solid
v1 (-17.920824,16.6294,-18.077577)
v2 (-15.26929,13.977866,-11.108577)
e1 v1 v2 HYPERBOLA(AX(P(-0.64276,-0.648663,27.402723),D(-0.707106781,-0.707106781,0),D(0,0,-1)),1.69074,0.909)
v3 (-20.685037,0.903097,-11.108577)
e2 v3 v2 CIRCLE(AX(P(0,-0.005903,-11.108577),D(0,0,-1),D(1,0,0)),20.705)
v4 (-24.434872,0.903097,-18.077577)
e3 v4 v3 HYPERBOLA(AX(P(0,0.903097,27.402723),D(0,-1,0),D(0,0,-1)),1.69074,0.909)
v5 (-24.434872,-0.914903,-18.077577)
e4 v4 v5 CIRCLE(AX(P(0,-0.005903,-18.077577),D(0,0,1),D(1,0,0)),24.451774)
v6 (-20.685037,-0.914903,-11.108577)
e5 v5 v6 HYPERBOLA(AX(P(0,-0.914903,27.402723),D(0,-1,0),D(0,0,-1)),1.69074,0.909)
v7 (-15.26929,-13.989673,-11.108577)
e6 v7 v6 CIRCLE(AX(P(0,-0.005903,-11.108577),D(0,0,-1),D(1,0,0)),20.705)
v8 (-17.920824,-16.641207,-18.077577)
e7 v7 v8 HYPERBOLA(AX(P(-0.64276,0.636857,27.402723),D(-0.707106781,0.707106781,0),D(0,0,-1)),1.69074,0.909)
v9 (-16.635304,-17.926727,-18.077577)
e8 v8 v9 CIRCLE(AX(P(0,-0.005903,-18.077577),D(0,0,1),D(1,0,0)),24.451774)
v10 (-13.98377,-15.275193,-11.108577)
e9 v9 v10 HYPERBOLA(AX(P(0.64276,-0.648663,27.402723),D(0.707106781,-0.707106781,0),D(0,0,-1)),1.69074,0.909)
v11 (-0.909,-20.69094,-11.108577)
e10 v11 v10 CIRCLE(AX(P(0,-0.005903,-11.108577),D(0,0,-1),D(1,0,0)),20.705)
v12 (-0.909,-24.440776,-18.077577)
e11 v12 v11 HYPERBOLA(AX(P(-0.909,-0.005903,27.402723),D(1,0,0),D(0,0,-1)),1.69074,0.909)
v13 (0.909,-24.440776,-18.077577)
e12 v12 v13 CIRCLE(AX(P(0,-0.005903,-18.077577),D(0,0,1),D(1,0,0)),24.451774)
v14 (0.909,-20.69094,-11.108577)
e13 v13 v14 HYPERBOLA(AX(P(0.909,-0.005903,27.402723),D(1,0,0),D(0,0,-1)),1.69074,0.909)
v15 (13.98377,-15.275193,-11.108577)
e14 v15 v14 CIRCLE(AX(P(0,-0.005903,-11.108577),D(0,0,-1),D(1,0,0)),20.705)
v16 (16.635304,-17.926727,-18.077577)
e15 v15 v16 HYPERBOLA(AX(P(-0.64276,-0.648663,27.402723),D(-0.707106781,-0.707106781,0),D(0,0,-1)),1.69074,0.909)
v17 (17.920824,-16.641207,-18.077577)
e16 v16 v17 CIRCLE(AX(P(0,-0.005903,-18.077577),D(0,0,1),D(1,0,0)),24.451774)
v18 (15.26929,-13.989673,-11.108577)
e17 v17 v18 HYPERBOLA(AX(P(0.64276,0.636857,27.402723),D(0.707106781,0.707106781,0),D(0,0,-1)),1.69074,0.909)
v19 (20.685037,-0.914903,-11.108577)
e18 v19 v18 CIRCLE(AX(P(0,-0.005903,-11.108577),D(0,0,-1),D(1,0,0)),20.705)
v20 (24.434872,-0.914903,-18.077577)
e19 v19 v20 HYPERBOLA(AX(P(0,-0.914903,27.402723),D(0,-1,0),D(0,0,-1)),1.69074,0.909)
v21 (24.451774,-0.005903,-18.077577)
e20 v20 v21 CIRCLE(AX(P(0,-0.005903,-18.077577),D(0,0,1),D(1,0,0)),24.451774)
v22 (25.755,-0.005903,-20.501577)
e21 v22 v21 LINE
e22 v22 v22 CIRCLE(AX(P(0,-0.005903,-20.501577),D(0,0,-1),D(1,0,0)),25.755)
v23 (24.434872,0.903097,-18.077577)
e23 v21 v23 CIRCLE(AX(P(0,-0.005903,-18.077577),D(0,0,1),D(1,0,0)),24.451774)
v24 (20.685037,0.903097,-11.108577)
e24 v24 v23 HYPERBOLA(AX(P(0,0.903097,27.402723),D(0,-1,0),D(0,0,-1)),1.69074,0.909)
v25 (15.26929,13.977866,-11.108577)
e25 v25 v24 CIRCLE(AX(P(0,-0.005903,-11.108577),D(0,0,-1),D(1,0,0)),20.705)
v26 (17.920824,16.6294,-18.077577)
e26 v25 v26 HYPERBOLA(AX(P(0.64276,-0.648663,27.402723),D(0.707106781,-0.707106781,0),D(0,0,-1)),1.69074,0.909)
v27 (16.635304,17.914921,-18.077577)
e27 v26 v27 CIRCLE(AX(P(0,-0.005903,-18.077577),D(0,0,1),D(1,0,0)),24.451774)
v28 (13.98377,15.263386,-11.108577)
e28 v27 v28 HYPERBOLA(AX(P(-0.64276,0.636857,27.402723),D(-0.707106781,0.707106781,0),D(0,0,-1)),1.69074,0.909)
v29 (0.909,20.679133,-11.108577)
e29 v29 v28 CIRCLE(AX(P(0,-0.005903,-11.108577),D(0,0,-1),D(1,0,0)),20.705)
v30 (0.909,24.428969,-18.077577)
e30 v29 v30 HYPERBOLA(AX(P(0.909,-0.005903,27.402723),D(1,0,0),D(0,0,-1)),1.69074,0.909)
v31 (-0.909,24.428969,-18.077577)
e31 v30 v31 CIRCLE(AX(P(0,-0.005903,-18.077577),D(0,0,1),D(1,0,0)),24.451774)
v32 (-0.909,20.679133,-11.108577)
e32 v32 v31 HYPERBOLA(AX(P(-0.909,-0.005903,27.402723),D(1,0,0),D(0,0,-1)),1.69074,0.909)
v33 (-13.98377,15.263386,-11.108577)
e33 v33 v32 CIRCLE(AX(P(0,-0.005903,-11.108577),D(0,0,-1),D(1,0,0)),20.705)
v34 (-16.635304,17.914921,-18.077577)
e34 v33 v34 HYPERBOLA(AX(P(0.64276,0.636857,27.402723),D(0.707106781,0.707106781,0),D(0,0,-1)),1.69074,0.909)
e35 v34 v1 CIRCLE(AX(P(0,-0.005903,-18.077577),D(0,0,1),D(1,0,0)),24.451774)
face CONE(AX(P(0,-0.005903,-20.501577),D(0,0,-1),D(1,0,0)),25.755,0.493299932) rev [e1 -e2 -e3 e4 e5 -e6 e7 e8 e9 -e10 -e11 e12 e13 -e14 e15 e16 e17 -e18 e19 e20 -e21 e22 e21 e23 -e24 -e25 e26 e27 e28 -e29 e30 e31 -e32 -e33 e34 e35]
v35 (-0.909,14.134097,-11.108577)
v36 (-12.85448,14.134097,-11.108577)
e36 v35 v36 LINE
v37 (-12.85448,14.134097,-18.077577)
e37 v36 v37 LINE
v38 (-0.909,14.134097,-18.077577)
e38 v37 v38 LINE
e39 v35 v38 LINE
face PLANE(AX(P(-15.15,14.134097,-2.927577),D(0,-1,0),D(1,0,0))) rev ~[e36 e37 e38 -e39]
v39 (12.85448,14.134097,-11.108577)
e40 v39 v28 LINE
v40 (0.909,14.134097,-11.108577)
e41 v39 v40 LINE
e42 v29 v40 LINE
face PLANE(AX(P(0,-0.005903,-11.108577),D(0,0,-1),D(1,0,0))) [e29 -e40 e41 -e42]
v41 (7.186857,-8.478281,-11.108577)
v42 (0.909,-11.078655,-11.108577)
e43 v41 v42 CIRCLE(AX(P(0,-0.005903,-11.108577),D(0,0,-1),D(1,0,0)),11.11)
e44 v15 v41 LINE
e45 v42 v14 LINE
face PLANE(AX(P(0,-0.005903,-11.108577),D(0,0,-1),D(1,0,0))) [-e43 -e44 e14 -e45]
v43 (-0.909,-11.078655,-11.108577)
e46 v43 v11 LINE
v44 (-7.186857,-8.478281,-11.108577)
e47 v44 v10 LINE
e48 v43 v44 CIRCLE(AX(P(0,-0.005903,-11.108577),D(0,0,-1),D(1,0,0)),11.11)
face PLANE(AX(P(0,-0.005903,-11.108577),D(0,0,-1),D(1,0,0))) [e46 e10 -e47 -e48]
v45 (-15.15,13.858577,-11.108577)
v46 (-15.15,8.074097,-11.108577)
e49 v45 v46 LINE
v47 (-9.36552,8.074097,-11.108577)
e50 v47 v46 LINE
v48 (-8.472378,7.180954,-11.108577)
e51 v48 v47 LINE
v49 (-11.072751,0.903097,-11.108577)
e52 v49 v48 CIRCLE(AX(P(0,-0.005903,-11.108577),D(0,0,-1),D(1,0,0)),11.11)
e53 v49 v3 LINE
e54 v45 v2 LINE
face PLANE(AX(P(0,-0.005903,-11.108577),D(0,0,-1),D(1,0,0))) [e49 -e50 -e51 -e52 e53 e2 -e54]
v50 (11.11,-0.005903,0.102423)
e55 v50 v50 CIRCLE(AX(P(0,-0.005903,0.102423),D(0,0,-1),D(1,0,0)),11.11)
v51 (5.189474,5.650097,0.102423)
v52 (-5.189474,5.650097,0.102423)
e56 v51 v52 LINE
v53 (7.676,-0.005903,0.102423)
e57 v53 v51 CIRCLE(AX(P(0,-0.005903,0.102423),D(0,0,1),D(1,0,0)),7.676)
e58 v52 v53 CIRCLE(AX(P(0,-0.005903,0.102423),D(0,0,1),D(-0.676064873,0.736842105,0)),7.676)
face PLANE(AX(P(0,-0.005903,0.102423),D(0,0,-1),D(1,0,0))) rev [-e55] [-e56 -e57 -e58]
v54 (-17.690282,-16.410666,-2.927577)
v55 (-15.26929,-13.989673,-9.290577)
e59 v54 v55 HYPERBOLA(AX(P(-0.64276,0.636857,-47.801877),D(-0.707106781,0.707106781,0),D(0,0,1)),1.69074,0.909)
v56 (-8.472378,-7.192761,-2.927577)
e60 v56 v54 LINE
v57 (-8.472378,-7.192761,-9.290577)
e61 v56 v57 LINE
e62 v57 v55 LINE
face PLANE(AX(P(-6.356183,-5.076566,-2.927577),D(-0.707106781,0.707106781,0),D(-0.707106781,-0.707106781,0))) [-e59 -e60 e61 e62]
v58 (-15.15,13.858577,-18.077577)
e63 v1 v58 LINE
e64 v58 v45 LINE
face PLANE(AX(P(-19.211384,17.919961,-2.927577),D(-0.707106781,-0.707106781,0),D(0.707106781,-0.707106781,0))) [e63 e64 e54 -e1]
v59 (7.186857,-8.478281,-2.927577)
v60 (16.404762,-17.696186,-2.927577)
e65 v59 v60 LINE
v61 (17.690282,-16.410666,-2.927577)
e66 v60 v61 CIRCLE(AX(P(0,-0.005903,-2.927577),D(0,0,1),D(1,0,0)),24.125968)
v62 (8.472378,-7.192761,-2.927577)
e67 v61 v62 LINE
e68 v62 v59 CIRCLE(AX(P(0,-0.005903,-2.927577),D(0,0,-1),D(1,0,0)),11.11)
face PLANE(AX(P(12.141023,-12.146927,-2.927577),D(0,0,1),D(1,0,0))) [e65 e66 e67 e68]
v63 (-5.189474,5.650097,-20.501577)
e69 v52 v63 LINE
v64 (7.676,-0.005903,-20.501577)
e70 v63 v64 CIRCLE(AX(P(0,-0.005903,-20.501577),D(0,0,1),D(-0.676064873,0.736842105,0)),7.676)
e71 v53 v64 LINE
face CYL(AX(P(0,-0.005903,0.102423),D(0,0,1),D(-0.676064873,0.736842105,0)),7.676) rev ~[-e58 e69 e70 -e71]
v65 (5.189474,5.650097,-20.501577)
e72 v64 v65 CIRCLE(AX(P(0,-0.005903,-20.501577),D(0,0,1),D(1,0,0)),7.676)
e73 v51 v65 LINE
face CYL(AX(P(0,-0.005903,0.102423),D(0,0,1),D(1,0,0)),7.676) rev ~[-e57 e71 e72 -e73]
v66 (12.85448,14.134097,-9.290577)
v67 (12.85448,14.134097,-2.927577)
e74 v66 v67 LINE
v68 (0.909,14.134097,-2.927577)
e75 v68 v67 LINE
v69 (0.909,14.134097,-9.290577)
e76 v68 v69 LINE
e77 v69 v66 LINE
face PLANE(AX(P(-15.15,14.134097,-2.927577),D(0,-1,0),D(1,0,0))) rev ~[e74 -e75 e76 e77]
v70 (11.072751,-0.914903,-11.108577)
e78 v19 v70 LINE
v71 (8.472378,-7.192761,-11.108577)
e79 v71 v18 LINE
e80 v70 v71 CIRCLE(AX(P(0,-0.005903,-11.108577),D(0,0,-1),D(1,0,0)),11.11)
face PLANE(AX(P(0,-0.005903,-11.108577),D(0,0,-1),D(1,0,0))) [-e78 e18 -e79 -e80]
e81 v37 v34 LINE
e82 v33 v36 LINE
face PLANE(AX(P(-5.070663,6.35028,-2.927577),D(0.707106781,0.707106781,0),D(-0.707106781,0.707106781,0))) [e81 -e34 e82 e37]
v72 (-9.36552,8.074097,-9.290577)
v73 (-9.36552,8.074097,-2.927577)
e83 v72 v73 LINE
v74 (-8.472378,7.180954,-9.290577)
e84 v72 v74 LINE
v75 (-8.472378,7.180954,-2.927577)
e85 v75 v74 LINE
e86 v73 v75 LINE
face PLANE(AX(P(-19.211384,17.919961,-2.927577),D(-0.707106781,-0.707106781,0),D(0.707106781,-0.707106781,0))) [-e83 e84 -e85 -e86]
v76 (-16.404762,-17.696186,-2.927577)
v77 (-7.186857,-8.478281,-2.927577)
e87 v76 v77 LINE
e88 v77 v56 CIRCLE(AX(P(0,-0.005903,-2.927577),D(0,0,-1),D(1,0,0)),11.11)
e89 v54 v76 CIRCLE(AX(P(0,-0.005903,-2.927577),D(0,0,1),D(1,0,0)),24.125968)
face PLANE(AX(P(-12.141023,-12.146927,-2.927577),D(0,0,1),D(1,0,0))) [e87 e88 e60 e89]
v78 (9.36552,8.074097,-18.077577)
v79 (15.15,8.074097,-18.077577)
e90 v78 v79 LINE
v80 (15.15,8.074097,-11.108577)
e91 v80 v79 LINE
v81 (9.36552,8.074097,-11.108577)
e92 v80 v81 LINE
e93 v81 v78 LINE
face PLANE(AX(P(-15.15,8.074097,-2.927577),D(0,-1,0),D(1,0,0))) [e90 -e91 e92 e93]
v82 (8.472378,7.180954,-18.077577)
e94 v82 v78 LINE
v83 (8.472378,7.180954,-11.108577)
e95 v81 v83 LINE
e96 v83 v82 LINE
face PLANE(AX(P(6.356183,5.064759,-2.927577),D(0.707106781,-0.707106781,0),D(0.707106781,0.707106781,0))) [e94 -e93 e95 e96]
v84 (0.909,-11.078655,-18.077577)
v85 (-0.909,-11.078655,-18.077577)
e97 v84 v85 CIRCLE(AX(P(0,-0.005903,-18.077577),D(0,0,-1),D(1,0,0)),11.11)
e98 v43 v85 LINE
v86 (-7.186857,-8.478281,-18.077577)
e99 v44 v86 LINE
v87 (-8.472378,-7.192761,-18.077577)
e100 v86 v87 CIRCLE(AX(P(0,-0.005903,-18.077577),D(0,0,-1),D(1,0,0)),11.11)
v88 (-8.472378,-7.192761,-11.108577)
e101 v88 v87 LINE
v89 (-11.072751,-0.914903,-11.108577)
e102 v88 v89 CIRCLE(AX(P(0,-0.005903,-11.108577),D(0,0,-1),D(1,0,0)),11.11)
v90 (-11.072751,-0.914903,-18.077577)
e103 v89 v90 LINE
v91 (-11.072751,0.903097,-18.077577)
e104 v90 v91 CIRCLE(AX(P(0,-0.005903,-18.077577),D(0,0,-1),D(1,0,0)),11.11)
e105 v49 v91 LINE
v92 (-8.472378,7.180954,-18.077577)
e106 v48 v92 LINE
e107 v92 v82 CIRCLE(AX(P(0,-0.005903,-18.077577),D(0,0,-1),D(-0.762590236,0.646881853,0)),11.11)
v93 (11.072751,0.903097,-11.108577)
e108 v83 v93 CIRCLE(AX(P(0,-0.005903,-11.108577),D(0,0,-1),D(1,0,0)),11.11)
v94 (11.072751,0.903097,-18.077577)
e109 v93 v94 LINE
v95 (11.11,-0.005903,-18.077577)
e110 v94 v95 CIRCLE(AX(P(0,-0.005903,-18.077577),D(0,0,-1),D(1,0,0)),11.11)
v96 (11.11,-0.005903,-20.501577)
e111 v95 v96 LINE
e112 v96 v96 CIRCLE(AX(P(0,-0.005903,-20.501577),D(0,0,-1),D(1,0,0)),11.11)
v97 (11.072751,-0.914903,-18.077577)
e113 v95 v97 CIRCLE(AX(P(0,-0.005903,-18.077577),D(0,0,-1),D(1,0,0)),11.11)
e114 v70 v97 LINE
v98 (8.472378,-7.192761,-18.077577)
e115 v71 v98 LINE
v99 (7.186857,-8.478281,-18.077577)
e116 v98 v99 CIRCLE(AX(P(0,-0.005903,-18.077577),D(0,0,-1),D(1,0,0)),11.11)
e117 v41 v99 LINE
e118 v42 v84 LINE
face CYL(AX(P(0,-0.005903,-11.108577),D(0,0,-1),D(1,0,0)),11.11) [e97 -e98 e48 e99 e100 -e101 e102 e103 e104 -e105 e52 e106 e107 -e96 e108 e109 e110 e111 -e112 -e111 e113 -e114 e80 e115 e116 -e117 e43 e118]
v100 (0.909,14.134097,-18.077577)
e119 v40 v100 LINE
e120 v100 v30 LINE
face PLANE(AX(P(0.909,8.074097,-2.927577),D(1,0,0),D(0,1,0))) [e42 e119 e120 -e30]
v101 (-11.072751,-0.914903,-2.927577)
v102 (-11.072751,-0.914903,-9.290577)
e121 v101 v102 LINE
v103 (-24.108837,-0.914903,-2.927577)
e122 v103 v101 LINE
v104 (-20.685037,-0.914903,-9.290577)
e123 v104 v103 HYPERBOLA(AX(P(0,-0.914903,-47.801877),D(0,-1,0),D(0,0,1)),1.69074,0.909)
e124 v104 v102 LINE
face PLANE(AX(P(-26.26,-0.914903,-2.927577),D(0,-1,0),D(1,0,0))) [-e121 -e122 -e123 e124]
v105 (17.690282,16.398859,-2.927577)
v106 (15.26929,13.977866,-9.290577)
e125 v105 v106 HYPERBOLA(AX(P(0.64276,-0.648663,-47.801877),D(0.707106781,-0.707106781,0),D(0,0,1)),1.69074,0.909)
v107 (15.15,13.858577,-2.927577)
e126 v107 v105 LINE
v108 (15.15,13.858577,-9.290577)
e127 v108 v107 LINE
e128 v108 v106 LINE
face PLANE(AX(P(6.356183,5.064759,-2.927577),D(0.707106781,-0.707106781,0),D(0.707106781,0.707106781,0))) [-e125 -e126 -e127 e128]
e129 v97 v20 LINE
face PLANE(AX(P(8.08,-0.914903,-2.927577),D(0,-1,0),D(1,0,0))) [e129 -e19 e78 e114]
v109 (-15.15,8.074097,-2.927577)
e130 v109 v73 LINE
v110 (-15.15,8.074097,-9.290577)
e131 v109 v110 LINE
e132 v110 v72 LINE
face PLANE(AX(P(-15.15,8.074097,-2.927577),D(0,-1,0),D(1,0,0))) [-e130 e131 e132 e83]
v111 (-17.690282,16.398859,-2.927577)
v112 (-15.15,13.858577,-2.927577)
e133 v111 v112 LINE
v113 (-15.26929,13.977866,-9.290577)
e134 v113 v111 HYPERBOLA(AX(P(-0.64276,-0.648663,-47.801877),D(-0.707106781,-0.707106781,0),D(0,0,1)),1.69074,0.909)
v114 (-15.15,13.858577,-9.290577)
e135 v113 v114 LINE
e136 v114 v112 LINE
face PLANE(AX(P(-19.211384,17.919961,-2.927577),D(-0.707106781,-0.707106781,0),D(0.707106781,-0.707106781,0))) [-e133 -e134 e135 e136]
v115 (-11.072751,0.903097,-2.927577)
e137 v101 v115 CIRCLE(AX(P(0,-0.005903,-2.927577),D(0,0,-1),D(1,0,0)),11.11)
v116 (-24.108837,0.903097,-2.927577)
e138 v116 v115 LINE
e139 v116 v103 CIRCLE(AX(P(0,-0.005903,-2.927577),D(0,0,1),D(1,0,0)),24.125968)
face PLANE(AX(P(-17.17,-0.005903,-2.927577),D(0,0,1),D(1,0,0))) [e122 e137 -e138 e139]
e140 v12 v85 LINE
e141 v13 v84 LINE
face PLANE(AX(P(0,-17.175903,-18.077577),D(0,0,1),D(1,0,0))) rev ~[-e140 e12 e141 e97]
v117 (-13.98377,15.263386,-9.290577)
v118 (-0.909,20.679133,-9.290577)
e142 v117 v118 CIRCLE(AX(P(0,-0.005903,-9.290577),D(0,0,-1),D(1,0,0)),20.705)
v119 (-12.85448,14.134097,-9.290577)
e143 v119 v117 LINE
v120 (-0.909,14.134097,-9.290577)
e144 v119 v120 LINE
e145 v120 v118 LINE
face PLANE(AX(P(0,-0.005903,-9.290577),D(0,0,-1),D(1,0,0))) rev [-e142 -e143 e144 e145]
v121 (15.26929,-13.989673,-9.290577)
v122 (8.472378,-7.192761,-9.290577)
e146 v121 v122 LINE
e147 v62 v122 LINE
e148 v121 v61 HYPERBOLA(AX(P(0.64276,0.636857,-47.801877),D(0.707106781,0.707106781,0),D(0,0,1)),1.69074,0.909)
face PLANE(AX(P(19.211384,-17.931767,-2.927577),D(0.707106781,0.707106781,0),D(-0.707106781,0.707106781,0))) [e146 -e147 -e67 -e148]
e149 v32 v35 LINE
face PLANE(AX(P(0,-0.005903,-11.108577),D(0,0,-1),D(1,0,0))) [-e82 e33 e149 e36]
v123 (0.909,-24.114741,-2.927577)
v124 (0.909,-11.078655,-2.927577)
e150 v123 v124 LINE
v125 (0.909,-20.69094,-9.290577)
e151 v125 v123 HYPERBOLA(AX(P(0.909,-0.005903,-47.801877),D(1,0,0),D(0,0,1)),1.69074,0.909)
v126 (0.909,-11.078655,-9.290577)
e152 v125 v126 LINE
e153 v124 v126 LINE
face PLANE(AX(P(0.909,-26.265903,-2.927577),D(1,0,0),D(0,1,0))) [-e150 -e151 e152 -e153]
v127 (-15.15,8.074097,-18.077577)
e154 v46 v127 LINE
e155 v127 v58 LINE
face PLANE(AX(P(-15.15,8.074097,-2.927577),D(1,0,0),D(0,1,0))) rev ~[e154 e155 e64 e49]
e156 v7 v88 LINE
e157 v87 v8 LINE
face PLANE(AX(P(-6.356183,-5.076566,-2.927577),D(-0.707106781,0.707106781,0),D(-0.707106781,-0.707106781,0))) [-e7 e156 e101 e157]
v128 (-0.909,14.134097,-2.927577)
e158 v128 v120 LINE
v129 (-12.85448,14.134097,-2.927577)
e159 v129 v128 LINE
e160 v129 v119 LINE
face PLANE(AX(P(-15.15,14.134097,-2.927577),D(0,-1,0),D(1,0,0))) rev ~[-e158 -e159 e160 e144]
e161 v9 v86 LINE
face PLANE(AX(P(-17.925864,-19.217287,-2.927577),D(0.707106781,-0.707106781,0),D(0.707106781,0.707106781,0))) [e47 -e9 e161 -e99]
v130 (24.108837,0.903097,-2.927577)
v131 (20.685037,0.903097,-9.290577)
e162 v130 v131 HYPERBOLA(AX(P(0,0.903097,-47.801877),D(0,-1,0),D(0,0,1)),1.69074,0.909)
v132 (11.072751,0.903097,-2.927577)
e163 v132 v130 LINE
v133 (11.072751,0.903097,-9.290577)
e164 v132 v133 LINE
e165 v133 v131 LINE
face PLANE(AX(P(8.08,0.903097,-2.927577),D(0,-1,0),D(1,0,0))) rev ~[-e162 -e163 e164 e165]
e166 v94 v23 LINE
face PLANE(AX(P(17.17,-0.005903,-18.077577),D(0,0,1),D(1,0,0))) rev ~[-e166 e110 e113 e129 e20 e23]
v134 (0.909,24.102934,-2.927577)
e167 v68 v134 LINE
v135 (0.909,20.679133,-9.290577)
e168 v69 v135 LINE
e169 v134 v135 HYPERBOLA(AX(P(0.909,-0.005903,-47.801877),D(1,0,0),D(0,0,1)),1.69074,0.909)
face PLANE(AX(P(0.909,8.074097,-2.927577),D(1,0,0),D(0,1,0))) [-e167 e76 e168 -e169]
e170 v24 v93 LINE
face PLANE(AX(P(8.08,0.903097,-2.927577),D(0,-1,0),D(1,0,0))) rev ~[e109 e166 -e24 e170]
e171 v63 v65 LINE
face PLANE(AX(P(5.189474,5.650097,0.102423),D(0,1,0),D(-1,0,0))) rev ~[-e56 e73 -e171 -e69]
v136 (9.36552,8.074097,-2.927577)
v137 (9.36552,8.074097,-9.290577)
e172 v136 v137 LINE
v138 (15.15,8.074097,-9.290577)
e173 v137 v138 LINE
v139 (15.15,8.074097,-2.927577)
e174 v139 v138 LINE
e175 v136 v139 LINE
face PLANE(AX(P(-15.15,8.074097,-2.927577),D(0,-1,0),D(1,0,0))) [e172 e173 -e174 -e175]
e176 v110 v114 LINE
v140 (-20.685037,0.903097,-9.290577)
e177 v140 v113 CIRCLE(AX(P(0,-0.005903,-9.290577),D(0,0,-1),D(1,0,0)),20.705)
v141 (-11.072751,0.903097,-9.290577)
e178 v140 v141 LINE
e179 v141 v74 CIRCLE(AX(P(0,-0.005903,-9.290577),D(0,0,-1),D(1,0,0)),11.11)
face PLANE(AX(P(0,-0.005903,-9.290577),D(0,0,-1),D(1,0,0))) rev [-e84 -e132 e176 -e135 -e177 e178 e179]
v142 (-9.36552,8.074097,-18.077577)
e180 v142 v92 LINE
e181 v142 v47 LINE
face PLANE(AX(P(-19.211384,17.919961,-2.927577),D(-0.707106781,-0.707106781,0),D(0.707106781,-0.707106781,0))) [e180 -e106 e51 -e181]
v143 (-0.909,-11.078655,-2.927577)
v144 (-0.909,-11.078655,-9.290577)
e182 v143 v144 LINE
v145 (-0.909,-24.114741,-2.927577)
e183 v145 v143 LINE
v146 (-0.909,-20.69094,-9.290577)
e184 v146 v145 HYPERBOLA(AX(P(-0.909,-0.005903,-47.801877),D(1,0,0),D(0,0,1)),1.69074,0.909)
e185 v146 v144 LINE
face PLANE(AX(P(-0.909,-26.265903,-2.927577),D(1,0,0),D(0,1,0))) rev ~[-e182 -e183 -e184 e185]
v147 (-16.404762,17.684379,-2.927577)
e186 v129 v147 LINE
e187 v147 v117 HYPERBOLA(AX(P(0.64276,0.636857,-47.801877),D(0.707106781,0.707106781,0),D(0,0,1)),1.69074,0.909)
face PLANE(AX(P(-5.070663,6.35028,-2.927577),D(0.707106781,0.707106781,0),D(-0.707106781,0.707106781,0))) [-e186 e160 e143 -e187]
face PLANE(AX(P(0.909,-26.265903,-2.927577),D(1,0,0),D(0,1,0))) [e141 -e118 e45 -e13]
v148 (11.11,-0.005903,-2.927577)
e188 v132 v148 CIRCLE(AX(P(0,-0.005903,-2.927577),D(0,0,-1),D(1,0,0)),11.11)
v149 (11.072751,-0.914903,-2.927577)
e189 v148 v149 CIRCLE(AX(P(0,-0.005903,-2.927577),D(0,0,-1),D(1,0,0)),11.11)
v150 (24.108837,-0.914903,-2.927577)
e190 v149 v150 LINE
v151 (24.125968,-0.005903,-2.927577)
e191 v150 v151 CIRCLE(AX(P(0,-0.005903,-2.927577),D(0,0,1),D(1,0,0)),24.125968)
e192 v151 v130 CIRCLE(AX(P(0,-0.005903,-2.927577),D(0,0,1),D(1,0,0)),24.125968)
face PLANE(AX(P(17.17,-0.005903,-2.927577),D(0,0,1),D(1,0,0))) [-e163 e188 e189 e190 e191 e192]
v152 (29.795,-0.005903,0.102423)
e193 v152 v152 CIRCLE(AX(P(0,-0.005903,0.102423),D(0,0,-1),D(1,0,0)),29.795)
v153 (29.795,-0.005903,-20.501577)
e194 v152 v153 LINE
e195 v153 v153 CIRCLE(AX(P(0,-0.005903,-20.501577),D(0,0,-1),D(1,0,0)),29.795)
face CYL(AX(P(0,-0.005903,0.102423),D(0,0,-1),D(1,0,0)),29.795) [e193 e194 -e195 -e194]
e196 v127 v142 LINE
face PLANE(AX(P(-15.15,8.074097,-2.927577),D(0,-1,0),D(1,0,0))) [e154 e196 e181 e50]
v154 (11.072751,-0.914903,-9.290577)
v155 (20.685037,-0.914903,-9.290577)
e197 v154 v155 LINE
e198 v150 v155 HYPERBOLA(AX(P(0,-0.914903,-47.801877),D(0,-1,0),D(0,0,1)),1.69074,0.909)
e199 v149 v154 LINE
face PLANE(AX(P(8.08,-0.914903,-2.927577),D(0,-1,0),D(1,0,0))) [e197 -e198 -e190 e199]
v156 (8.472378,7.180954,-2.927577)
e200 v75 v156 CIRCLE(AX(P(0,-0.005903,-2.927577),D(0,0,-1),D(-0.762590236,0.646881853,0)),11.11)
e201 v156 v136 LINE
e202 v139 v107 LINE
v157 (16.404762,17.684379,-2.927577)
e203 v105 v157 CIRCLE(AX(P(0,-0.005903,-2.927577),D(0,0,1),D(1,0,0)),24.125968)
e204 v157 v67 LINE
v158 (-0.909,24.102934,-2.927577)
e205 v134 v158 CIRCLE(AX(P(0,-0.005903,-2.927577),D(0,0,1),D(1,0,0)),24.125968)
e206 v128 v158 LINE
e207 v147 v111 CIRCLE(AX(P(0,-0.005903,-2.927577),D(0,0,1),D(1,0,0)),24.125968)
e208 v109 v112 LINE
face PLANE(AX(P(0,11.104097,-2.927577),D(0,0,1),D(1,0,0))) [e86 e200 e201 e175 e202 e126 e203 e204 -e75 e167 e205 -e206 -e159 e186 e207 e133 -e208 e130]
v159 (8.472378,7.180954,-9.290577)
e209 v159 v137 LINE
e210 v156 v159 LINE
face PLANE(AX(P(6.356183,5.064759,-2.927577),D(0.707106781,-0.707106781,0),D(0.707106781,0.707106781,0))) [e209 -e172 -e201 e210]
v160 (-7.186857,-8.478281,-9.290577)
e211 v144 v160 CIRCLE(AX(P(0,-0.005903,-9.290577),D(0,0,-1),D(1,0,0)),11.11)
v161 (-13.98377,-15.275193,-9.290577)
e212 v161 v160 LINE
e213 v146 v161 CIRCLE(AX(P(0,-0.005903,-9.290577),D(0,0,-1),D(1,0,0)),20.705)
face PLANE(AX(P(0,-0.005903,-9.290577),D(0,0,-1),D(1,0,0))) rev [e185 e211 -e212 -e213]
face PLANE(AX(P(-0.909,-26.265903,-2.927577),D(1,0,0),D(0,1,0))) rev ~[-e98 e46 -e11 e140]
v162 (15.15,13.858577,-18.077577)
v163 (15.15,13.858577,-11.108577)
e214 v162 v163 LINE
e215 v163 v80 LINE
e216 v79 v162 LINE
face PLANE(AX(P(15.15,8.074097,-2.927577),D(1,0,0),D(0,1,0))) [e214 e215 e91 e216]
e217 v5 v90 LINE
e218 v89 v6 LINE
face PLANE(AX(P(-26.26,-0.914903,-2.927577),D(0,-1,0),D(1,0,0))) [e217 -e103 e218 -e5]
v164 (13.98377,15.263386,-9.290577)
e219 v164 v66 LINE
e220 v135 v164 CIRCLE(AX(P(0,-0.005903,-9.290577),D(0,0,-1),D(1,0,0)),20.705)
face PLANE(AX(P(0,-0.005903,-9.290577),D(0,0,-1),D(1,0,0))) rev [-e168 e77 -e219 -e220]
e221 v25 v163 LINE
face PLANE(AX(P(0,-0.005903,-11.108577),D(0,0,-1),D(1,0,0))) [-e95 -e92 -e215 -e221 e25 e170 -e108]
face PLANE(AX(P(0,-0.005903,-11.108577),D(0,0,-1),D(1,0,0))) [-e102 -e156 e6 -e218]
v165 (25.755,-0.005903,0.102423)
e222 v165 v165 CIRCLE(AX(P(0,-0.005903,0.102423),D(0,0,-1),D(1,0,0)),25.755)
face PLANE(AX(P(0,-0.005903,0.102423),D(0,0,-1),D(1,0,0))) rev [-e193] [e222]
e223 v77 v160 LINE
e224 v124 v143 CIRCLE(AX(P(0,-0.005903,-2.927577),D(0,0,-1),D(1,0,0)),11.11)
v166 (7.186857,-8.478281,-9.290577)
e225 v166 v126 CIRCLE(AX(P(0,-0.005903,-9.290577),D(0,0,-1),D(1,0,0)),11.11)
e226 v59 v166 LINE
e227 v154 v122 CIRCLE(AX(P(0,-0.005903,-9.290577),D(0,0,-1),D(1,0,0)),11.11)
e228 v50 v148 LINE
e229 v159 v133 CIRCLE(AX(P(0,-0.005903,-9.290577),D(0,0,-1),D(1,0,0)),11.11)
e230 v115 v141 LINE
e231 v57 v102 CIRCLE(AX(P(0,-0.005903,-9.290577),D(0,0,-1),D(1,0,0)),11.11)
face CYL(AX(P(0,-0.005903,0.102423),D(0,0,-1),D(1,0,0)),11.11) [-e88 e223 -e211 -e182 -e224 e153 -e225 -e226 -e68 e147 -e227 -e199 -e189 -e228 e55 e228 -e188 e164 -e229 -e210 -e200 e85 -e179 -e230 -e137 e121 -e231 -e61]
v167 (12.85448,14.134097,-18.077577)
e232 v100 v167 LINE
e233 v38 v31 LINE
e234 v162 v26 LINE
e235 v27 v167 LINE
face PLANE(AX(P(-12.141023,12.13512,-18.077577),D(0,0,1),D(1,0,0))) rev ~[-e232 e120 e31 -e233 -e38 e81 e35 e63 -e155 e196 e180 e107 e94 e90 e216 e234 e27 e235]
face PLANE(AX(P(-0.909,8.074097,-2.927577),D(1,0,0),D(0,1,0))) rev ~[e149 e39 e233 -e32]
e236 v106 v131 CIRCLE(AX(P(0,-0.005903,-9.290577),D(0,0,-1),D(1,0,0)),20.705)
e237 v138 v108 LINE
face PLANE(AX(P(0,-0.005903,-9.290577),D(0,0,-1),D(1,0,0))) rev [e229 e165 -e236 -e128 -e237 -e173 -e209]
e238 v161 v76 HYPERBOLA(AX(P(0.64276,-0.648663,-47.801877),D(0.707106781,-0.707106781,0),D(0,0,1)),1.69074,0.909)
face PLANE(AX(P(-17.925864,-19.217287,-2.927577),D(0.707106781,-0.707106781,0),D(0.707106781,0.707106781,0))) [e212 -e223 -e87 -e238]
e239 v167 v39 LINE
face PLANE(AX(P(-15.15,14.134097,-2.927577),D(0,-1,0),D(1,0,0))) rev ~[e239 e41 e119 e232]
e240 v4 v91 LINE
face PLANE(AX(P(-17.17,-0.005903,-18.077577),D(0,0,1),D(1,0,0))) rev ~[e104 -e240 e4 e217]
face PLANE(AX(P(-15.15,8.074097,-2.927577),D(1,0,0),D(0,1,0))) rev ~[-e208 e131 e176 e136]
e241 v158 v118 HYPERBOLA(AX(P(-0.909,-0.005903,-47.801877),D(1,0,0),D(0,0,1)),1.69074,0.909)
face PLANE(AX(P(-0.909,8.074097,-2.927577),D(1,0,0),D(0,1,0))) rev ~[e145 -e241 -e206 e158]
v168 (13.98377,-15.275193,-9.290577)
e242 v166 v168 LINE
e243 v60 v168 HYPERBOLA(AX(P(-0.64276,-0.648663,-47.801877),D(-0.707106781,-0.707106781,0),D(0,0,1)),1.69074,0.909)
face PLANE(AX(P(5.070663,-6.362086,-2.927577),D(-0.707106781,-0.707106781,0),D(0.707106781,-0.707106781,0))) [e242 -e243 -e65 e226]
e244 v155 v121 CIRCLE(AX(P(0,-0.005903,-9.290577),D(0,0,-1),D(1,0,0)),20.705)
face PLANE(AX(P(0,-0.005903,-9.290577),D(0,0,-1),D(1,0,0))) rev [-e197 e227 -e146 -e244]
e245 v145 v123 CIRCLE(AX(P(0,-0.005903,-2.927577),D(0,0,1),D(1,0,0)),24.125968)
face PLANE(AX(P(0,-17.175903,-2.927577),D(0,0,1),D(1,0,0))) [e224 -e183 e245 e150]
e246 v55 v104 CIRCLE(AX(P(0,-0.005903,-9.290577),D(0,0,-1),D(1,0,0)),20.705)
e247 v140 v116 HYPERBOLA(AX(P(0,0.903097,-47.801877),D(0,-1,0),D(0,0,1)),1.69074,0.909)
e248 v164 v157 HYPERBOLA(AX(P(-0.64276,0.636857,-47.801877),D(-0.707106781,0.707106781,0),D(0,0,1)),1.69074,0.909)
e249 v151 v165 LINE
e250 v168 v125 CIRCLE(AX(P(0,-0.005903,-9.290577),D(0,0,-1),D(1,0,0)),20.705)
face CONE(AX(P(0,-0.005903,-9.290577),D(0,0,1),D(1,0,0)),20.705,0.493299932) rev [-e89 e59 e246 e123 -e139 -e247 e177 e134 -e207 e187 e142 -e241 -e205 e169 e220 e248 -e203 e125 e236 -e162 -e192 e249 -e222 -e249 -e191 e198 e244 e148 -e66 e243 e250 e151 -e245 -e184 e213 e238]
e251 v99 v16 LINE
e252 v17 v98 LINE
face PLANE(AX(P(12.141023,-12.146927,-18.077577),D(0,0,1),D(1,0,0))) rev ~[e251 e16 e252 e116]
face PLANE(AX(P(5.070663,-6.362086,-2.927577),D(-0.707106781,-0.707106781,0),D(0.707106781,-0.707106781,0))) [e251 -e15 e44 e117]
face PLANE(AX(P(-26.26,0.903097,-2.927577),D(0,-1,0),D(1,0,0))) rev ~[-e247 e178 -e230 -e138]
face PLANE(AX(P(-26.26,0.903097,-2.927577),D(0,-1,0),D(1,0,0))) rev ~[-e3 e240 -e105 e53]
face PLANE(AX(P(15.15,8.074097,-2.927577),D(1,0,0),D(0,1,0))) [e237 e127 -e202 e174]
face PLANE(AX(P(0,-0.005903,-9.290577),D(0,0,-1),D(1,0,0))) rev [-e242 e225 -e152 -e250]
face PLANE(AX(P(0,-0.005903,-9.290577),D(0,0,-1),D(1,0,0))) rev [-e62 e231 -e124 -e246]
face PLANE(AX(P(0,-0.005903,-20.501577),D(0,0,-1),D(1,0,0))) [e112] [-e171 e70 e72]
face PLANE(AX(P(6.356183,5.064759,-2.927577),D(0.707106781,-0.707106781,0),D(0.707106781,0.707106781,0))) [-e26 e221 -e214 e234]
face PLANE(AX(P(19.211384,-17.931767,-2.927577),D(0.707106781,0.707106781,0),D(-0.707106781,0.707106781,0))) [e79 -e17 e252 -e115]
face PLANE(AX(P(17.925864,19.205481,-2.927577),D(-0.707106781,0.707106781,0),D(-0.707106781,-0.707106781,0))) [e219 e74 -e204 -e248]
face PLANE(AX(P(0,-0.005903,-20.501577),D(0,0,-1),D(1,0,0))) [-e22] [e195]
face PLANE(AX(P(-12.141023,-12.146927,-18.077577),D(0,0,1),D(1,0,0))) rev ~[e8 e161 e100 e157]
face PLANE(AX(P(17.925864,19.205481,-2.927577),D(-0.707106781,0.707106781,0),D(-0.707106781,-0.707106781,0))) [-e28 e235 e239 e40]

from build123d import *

# Parameters (mm, degrees)
SKETCH_2_R          = 5
CUT_EXTRUDE_1_DEPTH = 47.439853574
SKETCH_3_W          = 1.8
SKETCH_3_H          = 18
SKETCH_3_W_2        = 18
SKETCH_3_H_2        = 1.8
EXTRUDE_1_DEPTH     = 15
SKETCH_4_W          = 30
SKETCH_4_H          = 6
EXTRUDE_2_DEPTH     = 15
SCALE_1_SCALE       = 1.01


with BuildPart() as part:
    # Эскиз1 → Повернуть1 (revolve)
    with BuildSketch(Plane(origin=(0, 0, 0), x_dir=(1, 0, 0), z_dir=(0, 1, 0)), mode=Mode.PRIVATE) as revolve_1_sk:
        Polygon((-5, 0), (-11, 0), (-11, 9.3), (-20.5, 9.3), (-25.5, 0), (-29.5, 0), (-29.5, 20.4), (-25.5, 20.4), (-20.5, 11.1), (-11, 11.1), (-11, 20.4), (-5, 20.4), align=None)
    revolve(revolve_1_sk.sketch.rotate(Axis((0, 0, 0), (0, 0, -1)), 180), axis=Axis((0, 0, 0), (0, 0, -1)))

    # Эскиз2 → Вырез-Вытянуть1 (cut, through all)
    with BuildSketch(Plane.XY):
        with BuildLine():
            Line((5.138093031, 5.6), (-5.138093031, 5.6))
            ThreePointArc((-5.138093031, 5.6), (-3.058634741, -6.957352479), (7.6, 0))
            ThreePointArc((7.6, 0), (6.957352479, 3.058634741), (5.138093031, 5.6))
        make_face()
        Circle(SKETCH_2_R, mode=Mode.SUBTRACT)
    extrude(amount=-CUT_EXTRUDE_1_DEPTH, mode=Mode.SUBTRACT)

    # Эскиз3 → Бобышка-Вытянуть1 (add)
    with BuildSketch(Plane.XY.offset(-3)):
        Polygon((5.020458146, 6.293250353), (6.293250353, 5.020458146), (19.021172414, 17.748380208), (17.748380208, 19.021172414), align=None)
        with Locations((0, 17)):
            Rectangle(SKETCH_3_W, SKETCH_3_H)
        with Locations((17, 0)):
            Rectangle(SKETCH_3_W_2, SKETCH_3_H_2)
        Polygon((6.293250353, -5.020458146), (5.020458146, -6.293250353), (17.748380208, -19.021172414), (19.021172414, -17.748380208), align=None)
        with Locations((0, -17)):
            Rectangle(SKETCH_3_W, SKETCH_3_H)
        Polygon((-5.020458146, -6.293250353), (-6.293250353, -5.020458146), (-19.021172414, -17.748380208), (-17.748380208, -19.021172414), align=None)
        with Locations((-17, 0)):
            Rectangle(SKETCH_3_W_2, SKETCH_3_H_2)
        Polygon((-6.293250353, 5.020458146), (-5.020458146, 6.293250353), (-17.748380208, 19.021172414), (-19.021172414, 17.748380208), align=None)
    extrude(amount=-EXTRUDE_1_DEPTH)

    # Эскиз4 → Бобышка-Вытянуть2 (add)
    with BuildSketch(Plane.XY.offset(-3)):
        with Locations((0, 11)):
            Rectangle(SKETCH_4_W, SKETCH_4_H)
    extrude(amount=-EXTRUDE_2_DEPTH)


with BuildPart() as part_1:
    # Масштаб1: scaled about (0, 0.590334884, -10.24232435)
    add(part.part.scale(SCALE_1_SCALE).moved(Location((0, -0.005903349, 0.102423244))))


solid = part_1.part
